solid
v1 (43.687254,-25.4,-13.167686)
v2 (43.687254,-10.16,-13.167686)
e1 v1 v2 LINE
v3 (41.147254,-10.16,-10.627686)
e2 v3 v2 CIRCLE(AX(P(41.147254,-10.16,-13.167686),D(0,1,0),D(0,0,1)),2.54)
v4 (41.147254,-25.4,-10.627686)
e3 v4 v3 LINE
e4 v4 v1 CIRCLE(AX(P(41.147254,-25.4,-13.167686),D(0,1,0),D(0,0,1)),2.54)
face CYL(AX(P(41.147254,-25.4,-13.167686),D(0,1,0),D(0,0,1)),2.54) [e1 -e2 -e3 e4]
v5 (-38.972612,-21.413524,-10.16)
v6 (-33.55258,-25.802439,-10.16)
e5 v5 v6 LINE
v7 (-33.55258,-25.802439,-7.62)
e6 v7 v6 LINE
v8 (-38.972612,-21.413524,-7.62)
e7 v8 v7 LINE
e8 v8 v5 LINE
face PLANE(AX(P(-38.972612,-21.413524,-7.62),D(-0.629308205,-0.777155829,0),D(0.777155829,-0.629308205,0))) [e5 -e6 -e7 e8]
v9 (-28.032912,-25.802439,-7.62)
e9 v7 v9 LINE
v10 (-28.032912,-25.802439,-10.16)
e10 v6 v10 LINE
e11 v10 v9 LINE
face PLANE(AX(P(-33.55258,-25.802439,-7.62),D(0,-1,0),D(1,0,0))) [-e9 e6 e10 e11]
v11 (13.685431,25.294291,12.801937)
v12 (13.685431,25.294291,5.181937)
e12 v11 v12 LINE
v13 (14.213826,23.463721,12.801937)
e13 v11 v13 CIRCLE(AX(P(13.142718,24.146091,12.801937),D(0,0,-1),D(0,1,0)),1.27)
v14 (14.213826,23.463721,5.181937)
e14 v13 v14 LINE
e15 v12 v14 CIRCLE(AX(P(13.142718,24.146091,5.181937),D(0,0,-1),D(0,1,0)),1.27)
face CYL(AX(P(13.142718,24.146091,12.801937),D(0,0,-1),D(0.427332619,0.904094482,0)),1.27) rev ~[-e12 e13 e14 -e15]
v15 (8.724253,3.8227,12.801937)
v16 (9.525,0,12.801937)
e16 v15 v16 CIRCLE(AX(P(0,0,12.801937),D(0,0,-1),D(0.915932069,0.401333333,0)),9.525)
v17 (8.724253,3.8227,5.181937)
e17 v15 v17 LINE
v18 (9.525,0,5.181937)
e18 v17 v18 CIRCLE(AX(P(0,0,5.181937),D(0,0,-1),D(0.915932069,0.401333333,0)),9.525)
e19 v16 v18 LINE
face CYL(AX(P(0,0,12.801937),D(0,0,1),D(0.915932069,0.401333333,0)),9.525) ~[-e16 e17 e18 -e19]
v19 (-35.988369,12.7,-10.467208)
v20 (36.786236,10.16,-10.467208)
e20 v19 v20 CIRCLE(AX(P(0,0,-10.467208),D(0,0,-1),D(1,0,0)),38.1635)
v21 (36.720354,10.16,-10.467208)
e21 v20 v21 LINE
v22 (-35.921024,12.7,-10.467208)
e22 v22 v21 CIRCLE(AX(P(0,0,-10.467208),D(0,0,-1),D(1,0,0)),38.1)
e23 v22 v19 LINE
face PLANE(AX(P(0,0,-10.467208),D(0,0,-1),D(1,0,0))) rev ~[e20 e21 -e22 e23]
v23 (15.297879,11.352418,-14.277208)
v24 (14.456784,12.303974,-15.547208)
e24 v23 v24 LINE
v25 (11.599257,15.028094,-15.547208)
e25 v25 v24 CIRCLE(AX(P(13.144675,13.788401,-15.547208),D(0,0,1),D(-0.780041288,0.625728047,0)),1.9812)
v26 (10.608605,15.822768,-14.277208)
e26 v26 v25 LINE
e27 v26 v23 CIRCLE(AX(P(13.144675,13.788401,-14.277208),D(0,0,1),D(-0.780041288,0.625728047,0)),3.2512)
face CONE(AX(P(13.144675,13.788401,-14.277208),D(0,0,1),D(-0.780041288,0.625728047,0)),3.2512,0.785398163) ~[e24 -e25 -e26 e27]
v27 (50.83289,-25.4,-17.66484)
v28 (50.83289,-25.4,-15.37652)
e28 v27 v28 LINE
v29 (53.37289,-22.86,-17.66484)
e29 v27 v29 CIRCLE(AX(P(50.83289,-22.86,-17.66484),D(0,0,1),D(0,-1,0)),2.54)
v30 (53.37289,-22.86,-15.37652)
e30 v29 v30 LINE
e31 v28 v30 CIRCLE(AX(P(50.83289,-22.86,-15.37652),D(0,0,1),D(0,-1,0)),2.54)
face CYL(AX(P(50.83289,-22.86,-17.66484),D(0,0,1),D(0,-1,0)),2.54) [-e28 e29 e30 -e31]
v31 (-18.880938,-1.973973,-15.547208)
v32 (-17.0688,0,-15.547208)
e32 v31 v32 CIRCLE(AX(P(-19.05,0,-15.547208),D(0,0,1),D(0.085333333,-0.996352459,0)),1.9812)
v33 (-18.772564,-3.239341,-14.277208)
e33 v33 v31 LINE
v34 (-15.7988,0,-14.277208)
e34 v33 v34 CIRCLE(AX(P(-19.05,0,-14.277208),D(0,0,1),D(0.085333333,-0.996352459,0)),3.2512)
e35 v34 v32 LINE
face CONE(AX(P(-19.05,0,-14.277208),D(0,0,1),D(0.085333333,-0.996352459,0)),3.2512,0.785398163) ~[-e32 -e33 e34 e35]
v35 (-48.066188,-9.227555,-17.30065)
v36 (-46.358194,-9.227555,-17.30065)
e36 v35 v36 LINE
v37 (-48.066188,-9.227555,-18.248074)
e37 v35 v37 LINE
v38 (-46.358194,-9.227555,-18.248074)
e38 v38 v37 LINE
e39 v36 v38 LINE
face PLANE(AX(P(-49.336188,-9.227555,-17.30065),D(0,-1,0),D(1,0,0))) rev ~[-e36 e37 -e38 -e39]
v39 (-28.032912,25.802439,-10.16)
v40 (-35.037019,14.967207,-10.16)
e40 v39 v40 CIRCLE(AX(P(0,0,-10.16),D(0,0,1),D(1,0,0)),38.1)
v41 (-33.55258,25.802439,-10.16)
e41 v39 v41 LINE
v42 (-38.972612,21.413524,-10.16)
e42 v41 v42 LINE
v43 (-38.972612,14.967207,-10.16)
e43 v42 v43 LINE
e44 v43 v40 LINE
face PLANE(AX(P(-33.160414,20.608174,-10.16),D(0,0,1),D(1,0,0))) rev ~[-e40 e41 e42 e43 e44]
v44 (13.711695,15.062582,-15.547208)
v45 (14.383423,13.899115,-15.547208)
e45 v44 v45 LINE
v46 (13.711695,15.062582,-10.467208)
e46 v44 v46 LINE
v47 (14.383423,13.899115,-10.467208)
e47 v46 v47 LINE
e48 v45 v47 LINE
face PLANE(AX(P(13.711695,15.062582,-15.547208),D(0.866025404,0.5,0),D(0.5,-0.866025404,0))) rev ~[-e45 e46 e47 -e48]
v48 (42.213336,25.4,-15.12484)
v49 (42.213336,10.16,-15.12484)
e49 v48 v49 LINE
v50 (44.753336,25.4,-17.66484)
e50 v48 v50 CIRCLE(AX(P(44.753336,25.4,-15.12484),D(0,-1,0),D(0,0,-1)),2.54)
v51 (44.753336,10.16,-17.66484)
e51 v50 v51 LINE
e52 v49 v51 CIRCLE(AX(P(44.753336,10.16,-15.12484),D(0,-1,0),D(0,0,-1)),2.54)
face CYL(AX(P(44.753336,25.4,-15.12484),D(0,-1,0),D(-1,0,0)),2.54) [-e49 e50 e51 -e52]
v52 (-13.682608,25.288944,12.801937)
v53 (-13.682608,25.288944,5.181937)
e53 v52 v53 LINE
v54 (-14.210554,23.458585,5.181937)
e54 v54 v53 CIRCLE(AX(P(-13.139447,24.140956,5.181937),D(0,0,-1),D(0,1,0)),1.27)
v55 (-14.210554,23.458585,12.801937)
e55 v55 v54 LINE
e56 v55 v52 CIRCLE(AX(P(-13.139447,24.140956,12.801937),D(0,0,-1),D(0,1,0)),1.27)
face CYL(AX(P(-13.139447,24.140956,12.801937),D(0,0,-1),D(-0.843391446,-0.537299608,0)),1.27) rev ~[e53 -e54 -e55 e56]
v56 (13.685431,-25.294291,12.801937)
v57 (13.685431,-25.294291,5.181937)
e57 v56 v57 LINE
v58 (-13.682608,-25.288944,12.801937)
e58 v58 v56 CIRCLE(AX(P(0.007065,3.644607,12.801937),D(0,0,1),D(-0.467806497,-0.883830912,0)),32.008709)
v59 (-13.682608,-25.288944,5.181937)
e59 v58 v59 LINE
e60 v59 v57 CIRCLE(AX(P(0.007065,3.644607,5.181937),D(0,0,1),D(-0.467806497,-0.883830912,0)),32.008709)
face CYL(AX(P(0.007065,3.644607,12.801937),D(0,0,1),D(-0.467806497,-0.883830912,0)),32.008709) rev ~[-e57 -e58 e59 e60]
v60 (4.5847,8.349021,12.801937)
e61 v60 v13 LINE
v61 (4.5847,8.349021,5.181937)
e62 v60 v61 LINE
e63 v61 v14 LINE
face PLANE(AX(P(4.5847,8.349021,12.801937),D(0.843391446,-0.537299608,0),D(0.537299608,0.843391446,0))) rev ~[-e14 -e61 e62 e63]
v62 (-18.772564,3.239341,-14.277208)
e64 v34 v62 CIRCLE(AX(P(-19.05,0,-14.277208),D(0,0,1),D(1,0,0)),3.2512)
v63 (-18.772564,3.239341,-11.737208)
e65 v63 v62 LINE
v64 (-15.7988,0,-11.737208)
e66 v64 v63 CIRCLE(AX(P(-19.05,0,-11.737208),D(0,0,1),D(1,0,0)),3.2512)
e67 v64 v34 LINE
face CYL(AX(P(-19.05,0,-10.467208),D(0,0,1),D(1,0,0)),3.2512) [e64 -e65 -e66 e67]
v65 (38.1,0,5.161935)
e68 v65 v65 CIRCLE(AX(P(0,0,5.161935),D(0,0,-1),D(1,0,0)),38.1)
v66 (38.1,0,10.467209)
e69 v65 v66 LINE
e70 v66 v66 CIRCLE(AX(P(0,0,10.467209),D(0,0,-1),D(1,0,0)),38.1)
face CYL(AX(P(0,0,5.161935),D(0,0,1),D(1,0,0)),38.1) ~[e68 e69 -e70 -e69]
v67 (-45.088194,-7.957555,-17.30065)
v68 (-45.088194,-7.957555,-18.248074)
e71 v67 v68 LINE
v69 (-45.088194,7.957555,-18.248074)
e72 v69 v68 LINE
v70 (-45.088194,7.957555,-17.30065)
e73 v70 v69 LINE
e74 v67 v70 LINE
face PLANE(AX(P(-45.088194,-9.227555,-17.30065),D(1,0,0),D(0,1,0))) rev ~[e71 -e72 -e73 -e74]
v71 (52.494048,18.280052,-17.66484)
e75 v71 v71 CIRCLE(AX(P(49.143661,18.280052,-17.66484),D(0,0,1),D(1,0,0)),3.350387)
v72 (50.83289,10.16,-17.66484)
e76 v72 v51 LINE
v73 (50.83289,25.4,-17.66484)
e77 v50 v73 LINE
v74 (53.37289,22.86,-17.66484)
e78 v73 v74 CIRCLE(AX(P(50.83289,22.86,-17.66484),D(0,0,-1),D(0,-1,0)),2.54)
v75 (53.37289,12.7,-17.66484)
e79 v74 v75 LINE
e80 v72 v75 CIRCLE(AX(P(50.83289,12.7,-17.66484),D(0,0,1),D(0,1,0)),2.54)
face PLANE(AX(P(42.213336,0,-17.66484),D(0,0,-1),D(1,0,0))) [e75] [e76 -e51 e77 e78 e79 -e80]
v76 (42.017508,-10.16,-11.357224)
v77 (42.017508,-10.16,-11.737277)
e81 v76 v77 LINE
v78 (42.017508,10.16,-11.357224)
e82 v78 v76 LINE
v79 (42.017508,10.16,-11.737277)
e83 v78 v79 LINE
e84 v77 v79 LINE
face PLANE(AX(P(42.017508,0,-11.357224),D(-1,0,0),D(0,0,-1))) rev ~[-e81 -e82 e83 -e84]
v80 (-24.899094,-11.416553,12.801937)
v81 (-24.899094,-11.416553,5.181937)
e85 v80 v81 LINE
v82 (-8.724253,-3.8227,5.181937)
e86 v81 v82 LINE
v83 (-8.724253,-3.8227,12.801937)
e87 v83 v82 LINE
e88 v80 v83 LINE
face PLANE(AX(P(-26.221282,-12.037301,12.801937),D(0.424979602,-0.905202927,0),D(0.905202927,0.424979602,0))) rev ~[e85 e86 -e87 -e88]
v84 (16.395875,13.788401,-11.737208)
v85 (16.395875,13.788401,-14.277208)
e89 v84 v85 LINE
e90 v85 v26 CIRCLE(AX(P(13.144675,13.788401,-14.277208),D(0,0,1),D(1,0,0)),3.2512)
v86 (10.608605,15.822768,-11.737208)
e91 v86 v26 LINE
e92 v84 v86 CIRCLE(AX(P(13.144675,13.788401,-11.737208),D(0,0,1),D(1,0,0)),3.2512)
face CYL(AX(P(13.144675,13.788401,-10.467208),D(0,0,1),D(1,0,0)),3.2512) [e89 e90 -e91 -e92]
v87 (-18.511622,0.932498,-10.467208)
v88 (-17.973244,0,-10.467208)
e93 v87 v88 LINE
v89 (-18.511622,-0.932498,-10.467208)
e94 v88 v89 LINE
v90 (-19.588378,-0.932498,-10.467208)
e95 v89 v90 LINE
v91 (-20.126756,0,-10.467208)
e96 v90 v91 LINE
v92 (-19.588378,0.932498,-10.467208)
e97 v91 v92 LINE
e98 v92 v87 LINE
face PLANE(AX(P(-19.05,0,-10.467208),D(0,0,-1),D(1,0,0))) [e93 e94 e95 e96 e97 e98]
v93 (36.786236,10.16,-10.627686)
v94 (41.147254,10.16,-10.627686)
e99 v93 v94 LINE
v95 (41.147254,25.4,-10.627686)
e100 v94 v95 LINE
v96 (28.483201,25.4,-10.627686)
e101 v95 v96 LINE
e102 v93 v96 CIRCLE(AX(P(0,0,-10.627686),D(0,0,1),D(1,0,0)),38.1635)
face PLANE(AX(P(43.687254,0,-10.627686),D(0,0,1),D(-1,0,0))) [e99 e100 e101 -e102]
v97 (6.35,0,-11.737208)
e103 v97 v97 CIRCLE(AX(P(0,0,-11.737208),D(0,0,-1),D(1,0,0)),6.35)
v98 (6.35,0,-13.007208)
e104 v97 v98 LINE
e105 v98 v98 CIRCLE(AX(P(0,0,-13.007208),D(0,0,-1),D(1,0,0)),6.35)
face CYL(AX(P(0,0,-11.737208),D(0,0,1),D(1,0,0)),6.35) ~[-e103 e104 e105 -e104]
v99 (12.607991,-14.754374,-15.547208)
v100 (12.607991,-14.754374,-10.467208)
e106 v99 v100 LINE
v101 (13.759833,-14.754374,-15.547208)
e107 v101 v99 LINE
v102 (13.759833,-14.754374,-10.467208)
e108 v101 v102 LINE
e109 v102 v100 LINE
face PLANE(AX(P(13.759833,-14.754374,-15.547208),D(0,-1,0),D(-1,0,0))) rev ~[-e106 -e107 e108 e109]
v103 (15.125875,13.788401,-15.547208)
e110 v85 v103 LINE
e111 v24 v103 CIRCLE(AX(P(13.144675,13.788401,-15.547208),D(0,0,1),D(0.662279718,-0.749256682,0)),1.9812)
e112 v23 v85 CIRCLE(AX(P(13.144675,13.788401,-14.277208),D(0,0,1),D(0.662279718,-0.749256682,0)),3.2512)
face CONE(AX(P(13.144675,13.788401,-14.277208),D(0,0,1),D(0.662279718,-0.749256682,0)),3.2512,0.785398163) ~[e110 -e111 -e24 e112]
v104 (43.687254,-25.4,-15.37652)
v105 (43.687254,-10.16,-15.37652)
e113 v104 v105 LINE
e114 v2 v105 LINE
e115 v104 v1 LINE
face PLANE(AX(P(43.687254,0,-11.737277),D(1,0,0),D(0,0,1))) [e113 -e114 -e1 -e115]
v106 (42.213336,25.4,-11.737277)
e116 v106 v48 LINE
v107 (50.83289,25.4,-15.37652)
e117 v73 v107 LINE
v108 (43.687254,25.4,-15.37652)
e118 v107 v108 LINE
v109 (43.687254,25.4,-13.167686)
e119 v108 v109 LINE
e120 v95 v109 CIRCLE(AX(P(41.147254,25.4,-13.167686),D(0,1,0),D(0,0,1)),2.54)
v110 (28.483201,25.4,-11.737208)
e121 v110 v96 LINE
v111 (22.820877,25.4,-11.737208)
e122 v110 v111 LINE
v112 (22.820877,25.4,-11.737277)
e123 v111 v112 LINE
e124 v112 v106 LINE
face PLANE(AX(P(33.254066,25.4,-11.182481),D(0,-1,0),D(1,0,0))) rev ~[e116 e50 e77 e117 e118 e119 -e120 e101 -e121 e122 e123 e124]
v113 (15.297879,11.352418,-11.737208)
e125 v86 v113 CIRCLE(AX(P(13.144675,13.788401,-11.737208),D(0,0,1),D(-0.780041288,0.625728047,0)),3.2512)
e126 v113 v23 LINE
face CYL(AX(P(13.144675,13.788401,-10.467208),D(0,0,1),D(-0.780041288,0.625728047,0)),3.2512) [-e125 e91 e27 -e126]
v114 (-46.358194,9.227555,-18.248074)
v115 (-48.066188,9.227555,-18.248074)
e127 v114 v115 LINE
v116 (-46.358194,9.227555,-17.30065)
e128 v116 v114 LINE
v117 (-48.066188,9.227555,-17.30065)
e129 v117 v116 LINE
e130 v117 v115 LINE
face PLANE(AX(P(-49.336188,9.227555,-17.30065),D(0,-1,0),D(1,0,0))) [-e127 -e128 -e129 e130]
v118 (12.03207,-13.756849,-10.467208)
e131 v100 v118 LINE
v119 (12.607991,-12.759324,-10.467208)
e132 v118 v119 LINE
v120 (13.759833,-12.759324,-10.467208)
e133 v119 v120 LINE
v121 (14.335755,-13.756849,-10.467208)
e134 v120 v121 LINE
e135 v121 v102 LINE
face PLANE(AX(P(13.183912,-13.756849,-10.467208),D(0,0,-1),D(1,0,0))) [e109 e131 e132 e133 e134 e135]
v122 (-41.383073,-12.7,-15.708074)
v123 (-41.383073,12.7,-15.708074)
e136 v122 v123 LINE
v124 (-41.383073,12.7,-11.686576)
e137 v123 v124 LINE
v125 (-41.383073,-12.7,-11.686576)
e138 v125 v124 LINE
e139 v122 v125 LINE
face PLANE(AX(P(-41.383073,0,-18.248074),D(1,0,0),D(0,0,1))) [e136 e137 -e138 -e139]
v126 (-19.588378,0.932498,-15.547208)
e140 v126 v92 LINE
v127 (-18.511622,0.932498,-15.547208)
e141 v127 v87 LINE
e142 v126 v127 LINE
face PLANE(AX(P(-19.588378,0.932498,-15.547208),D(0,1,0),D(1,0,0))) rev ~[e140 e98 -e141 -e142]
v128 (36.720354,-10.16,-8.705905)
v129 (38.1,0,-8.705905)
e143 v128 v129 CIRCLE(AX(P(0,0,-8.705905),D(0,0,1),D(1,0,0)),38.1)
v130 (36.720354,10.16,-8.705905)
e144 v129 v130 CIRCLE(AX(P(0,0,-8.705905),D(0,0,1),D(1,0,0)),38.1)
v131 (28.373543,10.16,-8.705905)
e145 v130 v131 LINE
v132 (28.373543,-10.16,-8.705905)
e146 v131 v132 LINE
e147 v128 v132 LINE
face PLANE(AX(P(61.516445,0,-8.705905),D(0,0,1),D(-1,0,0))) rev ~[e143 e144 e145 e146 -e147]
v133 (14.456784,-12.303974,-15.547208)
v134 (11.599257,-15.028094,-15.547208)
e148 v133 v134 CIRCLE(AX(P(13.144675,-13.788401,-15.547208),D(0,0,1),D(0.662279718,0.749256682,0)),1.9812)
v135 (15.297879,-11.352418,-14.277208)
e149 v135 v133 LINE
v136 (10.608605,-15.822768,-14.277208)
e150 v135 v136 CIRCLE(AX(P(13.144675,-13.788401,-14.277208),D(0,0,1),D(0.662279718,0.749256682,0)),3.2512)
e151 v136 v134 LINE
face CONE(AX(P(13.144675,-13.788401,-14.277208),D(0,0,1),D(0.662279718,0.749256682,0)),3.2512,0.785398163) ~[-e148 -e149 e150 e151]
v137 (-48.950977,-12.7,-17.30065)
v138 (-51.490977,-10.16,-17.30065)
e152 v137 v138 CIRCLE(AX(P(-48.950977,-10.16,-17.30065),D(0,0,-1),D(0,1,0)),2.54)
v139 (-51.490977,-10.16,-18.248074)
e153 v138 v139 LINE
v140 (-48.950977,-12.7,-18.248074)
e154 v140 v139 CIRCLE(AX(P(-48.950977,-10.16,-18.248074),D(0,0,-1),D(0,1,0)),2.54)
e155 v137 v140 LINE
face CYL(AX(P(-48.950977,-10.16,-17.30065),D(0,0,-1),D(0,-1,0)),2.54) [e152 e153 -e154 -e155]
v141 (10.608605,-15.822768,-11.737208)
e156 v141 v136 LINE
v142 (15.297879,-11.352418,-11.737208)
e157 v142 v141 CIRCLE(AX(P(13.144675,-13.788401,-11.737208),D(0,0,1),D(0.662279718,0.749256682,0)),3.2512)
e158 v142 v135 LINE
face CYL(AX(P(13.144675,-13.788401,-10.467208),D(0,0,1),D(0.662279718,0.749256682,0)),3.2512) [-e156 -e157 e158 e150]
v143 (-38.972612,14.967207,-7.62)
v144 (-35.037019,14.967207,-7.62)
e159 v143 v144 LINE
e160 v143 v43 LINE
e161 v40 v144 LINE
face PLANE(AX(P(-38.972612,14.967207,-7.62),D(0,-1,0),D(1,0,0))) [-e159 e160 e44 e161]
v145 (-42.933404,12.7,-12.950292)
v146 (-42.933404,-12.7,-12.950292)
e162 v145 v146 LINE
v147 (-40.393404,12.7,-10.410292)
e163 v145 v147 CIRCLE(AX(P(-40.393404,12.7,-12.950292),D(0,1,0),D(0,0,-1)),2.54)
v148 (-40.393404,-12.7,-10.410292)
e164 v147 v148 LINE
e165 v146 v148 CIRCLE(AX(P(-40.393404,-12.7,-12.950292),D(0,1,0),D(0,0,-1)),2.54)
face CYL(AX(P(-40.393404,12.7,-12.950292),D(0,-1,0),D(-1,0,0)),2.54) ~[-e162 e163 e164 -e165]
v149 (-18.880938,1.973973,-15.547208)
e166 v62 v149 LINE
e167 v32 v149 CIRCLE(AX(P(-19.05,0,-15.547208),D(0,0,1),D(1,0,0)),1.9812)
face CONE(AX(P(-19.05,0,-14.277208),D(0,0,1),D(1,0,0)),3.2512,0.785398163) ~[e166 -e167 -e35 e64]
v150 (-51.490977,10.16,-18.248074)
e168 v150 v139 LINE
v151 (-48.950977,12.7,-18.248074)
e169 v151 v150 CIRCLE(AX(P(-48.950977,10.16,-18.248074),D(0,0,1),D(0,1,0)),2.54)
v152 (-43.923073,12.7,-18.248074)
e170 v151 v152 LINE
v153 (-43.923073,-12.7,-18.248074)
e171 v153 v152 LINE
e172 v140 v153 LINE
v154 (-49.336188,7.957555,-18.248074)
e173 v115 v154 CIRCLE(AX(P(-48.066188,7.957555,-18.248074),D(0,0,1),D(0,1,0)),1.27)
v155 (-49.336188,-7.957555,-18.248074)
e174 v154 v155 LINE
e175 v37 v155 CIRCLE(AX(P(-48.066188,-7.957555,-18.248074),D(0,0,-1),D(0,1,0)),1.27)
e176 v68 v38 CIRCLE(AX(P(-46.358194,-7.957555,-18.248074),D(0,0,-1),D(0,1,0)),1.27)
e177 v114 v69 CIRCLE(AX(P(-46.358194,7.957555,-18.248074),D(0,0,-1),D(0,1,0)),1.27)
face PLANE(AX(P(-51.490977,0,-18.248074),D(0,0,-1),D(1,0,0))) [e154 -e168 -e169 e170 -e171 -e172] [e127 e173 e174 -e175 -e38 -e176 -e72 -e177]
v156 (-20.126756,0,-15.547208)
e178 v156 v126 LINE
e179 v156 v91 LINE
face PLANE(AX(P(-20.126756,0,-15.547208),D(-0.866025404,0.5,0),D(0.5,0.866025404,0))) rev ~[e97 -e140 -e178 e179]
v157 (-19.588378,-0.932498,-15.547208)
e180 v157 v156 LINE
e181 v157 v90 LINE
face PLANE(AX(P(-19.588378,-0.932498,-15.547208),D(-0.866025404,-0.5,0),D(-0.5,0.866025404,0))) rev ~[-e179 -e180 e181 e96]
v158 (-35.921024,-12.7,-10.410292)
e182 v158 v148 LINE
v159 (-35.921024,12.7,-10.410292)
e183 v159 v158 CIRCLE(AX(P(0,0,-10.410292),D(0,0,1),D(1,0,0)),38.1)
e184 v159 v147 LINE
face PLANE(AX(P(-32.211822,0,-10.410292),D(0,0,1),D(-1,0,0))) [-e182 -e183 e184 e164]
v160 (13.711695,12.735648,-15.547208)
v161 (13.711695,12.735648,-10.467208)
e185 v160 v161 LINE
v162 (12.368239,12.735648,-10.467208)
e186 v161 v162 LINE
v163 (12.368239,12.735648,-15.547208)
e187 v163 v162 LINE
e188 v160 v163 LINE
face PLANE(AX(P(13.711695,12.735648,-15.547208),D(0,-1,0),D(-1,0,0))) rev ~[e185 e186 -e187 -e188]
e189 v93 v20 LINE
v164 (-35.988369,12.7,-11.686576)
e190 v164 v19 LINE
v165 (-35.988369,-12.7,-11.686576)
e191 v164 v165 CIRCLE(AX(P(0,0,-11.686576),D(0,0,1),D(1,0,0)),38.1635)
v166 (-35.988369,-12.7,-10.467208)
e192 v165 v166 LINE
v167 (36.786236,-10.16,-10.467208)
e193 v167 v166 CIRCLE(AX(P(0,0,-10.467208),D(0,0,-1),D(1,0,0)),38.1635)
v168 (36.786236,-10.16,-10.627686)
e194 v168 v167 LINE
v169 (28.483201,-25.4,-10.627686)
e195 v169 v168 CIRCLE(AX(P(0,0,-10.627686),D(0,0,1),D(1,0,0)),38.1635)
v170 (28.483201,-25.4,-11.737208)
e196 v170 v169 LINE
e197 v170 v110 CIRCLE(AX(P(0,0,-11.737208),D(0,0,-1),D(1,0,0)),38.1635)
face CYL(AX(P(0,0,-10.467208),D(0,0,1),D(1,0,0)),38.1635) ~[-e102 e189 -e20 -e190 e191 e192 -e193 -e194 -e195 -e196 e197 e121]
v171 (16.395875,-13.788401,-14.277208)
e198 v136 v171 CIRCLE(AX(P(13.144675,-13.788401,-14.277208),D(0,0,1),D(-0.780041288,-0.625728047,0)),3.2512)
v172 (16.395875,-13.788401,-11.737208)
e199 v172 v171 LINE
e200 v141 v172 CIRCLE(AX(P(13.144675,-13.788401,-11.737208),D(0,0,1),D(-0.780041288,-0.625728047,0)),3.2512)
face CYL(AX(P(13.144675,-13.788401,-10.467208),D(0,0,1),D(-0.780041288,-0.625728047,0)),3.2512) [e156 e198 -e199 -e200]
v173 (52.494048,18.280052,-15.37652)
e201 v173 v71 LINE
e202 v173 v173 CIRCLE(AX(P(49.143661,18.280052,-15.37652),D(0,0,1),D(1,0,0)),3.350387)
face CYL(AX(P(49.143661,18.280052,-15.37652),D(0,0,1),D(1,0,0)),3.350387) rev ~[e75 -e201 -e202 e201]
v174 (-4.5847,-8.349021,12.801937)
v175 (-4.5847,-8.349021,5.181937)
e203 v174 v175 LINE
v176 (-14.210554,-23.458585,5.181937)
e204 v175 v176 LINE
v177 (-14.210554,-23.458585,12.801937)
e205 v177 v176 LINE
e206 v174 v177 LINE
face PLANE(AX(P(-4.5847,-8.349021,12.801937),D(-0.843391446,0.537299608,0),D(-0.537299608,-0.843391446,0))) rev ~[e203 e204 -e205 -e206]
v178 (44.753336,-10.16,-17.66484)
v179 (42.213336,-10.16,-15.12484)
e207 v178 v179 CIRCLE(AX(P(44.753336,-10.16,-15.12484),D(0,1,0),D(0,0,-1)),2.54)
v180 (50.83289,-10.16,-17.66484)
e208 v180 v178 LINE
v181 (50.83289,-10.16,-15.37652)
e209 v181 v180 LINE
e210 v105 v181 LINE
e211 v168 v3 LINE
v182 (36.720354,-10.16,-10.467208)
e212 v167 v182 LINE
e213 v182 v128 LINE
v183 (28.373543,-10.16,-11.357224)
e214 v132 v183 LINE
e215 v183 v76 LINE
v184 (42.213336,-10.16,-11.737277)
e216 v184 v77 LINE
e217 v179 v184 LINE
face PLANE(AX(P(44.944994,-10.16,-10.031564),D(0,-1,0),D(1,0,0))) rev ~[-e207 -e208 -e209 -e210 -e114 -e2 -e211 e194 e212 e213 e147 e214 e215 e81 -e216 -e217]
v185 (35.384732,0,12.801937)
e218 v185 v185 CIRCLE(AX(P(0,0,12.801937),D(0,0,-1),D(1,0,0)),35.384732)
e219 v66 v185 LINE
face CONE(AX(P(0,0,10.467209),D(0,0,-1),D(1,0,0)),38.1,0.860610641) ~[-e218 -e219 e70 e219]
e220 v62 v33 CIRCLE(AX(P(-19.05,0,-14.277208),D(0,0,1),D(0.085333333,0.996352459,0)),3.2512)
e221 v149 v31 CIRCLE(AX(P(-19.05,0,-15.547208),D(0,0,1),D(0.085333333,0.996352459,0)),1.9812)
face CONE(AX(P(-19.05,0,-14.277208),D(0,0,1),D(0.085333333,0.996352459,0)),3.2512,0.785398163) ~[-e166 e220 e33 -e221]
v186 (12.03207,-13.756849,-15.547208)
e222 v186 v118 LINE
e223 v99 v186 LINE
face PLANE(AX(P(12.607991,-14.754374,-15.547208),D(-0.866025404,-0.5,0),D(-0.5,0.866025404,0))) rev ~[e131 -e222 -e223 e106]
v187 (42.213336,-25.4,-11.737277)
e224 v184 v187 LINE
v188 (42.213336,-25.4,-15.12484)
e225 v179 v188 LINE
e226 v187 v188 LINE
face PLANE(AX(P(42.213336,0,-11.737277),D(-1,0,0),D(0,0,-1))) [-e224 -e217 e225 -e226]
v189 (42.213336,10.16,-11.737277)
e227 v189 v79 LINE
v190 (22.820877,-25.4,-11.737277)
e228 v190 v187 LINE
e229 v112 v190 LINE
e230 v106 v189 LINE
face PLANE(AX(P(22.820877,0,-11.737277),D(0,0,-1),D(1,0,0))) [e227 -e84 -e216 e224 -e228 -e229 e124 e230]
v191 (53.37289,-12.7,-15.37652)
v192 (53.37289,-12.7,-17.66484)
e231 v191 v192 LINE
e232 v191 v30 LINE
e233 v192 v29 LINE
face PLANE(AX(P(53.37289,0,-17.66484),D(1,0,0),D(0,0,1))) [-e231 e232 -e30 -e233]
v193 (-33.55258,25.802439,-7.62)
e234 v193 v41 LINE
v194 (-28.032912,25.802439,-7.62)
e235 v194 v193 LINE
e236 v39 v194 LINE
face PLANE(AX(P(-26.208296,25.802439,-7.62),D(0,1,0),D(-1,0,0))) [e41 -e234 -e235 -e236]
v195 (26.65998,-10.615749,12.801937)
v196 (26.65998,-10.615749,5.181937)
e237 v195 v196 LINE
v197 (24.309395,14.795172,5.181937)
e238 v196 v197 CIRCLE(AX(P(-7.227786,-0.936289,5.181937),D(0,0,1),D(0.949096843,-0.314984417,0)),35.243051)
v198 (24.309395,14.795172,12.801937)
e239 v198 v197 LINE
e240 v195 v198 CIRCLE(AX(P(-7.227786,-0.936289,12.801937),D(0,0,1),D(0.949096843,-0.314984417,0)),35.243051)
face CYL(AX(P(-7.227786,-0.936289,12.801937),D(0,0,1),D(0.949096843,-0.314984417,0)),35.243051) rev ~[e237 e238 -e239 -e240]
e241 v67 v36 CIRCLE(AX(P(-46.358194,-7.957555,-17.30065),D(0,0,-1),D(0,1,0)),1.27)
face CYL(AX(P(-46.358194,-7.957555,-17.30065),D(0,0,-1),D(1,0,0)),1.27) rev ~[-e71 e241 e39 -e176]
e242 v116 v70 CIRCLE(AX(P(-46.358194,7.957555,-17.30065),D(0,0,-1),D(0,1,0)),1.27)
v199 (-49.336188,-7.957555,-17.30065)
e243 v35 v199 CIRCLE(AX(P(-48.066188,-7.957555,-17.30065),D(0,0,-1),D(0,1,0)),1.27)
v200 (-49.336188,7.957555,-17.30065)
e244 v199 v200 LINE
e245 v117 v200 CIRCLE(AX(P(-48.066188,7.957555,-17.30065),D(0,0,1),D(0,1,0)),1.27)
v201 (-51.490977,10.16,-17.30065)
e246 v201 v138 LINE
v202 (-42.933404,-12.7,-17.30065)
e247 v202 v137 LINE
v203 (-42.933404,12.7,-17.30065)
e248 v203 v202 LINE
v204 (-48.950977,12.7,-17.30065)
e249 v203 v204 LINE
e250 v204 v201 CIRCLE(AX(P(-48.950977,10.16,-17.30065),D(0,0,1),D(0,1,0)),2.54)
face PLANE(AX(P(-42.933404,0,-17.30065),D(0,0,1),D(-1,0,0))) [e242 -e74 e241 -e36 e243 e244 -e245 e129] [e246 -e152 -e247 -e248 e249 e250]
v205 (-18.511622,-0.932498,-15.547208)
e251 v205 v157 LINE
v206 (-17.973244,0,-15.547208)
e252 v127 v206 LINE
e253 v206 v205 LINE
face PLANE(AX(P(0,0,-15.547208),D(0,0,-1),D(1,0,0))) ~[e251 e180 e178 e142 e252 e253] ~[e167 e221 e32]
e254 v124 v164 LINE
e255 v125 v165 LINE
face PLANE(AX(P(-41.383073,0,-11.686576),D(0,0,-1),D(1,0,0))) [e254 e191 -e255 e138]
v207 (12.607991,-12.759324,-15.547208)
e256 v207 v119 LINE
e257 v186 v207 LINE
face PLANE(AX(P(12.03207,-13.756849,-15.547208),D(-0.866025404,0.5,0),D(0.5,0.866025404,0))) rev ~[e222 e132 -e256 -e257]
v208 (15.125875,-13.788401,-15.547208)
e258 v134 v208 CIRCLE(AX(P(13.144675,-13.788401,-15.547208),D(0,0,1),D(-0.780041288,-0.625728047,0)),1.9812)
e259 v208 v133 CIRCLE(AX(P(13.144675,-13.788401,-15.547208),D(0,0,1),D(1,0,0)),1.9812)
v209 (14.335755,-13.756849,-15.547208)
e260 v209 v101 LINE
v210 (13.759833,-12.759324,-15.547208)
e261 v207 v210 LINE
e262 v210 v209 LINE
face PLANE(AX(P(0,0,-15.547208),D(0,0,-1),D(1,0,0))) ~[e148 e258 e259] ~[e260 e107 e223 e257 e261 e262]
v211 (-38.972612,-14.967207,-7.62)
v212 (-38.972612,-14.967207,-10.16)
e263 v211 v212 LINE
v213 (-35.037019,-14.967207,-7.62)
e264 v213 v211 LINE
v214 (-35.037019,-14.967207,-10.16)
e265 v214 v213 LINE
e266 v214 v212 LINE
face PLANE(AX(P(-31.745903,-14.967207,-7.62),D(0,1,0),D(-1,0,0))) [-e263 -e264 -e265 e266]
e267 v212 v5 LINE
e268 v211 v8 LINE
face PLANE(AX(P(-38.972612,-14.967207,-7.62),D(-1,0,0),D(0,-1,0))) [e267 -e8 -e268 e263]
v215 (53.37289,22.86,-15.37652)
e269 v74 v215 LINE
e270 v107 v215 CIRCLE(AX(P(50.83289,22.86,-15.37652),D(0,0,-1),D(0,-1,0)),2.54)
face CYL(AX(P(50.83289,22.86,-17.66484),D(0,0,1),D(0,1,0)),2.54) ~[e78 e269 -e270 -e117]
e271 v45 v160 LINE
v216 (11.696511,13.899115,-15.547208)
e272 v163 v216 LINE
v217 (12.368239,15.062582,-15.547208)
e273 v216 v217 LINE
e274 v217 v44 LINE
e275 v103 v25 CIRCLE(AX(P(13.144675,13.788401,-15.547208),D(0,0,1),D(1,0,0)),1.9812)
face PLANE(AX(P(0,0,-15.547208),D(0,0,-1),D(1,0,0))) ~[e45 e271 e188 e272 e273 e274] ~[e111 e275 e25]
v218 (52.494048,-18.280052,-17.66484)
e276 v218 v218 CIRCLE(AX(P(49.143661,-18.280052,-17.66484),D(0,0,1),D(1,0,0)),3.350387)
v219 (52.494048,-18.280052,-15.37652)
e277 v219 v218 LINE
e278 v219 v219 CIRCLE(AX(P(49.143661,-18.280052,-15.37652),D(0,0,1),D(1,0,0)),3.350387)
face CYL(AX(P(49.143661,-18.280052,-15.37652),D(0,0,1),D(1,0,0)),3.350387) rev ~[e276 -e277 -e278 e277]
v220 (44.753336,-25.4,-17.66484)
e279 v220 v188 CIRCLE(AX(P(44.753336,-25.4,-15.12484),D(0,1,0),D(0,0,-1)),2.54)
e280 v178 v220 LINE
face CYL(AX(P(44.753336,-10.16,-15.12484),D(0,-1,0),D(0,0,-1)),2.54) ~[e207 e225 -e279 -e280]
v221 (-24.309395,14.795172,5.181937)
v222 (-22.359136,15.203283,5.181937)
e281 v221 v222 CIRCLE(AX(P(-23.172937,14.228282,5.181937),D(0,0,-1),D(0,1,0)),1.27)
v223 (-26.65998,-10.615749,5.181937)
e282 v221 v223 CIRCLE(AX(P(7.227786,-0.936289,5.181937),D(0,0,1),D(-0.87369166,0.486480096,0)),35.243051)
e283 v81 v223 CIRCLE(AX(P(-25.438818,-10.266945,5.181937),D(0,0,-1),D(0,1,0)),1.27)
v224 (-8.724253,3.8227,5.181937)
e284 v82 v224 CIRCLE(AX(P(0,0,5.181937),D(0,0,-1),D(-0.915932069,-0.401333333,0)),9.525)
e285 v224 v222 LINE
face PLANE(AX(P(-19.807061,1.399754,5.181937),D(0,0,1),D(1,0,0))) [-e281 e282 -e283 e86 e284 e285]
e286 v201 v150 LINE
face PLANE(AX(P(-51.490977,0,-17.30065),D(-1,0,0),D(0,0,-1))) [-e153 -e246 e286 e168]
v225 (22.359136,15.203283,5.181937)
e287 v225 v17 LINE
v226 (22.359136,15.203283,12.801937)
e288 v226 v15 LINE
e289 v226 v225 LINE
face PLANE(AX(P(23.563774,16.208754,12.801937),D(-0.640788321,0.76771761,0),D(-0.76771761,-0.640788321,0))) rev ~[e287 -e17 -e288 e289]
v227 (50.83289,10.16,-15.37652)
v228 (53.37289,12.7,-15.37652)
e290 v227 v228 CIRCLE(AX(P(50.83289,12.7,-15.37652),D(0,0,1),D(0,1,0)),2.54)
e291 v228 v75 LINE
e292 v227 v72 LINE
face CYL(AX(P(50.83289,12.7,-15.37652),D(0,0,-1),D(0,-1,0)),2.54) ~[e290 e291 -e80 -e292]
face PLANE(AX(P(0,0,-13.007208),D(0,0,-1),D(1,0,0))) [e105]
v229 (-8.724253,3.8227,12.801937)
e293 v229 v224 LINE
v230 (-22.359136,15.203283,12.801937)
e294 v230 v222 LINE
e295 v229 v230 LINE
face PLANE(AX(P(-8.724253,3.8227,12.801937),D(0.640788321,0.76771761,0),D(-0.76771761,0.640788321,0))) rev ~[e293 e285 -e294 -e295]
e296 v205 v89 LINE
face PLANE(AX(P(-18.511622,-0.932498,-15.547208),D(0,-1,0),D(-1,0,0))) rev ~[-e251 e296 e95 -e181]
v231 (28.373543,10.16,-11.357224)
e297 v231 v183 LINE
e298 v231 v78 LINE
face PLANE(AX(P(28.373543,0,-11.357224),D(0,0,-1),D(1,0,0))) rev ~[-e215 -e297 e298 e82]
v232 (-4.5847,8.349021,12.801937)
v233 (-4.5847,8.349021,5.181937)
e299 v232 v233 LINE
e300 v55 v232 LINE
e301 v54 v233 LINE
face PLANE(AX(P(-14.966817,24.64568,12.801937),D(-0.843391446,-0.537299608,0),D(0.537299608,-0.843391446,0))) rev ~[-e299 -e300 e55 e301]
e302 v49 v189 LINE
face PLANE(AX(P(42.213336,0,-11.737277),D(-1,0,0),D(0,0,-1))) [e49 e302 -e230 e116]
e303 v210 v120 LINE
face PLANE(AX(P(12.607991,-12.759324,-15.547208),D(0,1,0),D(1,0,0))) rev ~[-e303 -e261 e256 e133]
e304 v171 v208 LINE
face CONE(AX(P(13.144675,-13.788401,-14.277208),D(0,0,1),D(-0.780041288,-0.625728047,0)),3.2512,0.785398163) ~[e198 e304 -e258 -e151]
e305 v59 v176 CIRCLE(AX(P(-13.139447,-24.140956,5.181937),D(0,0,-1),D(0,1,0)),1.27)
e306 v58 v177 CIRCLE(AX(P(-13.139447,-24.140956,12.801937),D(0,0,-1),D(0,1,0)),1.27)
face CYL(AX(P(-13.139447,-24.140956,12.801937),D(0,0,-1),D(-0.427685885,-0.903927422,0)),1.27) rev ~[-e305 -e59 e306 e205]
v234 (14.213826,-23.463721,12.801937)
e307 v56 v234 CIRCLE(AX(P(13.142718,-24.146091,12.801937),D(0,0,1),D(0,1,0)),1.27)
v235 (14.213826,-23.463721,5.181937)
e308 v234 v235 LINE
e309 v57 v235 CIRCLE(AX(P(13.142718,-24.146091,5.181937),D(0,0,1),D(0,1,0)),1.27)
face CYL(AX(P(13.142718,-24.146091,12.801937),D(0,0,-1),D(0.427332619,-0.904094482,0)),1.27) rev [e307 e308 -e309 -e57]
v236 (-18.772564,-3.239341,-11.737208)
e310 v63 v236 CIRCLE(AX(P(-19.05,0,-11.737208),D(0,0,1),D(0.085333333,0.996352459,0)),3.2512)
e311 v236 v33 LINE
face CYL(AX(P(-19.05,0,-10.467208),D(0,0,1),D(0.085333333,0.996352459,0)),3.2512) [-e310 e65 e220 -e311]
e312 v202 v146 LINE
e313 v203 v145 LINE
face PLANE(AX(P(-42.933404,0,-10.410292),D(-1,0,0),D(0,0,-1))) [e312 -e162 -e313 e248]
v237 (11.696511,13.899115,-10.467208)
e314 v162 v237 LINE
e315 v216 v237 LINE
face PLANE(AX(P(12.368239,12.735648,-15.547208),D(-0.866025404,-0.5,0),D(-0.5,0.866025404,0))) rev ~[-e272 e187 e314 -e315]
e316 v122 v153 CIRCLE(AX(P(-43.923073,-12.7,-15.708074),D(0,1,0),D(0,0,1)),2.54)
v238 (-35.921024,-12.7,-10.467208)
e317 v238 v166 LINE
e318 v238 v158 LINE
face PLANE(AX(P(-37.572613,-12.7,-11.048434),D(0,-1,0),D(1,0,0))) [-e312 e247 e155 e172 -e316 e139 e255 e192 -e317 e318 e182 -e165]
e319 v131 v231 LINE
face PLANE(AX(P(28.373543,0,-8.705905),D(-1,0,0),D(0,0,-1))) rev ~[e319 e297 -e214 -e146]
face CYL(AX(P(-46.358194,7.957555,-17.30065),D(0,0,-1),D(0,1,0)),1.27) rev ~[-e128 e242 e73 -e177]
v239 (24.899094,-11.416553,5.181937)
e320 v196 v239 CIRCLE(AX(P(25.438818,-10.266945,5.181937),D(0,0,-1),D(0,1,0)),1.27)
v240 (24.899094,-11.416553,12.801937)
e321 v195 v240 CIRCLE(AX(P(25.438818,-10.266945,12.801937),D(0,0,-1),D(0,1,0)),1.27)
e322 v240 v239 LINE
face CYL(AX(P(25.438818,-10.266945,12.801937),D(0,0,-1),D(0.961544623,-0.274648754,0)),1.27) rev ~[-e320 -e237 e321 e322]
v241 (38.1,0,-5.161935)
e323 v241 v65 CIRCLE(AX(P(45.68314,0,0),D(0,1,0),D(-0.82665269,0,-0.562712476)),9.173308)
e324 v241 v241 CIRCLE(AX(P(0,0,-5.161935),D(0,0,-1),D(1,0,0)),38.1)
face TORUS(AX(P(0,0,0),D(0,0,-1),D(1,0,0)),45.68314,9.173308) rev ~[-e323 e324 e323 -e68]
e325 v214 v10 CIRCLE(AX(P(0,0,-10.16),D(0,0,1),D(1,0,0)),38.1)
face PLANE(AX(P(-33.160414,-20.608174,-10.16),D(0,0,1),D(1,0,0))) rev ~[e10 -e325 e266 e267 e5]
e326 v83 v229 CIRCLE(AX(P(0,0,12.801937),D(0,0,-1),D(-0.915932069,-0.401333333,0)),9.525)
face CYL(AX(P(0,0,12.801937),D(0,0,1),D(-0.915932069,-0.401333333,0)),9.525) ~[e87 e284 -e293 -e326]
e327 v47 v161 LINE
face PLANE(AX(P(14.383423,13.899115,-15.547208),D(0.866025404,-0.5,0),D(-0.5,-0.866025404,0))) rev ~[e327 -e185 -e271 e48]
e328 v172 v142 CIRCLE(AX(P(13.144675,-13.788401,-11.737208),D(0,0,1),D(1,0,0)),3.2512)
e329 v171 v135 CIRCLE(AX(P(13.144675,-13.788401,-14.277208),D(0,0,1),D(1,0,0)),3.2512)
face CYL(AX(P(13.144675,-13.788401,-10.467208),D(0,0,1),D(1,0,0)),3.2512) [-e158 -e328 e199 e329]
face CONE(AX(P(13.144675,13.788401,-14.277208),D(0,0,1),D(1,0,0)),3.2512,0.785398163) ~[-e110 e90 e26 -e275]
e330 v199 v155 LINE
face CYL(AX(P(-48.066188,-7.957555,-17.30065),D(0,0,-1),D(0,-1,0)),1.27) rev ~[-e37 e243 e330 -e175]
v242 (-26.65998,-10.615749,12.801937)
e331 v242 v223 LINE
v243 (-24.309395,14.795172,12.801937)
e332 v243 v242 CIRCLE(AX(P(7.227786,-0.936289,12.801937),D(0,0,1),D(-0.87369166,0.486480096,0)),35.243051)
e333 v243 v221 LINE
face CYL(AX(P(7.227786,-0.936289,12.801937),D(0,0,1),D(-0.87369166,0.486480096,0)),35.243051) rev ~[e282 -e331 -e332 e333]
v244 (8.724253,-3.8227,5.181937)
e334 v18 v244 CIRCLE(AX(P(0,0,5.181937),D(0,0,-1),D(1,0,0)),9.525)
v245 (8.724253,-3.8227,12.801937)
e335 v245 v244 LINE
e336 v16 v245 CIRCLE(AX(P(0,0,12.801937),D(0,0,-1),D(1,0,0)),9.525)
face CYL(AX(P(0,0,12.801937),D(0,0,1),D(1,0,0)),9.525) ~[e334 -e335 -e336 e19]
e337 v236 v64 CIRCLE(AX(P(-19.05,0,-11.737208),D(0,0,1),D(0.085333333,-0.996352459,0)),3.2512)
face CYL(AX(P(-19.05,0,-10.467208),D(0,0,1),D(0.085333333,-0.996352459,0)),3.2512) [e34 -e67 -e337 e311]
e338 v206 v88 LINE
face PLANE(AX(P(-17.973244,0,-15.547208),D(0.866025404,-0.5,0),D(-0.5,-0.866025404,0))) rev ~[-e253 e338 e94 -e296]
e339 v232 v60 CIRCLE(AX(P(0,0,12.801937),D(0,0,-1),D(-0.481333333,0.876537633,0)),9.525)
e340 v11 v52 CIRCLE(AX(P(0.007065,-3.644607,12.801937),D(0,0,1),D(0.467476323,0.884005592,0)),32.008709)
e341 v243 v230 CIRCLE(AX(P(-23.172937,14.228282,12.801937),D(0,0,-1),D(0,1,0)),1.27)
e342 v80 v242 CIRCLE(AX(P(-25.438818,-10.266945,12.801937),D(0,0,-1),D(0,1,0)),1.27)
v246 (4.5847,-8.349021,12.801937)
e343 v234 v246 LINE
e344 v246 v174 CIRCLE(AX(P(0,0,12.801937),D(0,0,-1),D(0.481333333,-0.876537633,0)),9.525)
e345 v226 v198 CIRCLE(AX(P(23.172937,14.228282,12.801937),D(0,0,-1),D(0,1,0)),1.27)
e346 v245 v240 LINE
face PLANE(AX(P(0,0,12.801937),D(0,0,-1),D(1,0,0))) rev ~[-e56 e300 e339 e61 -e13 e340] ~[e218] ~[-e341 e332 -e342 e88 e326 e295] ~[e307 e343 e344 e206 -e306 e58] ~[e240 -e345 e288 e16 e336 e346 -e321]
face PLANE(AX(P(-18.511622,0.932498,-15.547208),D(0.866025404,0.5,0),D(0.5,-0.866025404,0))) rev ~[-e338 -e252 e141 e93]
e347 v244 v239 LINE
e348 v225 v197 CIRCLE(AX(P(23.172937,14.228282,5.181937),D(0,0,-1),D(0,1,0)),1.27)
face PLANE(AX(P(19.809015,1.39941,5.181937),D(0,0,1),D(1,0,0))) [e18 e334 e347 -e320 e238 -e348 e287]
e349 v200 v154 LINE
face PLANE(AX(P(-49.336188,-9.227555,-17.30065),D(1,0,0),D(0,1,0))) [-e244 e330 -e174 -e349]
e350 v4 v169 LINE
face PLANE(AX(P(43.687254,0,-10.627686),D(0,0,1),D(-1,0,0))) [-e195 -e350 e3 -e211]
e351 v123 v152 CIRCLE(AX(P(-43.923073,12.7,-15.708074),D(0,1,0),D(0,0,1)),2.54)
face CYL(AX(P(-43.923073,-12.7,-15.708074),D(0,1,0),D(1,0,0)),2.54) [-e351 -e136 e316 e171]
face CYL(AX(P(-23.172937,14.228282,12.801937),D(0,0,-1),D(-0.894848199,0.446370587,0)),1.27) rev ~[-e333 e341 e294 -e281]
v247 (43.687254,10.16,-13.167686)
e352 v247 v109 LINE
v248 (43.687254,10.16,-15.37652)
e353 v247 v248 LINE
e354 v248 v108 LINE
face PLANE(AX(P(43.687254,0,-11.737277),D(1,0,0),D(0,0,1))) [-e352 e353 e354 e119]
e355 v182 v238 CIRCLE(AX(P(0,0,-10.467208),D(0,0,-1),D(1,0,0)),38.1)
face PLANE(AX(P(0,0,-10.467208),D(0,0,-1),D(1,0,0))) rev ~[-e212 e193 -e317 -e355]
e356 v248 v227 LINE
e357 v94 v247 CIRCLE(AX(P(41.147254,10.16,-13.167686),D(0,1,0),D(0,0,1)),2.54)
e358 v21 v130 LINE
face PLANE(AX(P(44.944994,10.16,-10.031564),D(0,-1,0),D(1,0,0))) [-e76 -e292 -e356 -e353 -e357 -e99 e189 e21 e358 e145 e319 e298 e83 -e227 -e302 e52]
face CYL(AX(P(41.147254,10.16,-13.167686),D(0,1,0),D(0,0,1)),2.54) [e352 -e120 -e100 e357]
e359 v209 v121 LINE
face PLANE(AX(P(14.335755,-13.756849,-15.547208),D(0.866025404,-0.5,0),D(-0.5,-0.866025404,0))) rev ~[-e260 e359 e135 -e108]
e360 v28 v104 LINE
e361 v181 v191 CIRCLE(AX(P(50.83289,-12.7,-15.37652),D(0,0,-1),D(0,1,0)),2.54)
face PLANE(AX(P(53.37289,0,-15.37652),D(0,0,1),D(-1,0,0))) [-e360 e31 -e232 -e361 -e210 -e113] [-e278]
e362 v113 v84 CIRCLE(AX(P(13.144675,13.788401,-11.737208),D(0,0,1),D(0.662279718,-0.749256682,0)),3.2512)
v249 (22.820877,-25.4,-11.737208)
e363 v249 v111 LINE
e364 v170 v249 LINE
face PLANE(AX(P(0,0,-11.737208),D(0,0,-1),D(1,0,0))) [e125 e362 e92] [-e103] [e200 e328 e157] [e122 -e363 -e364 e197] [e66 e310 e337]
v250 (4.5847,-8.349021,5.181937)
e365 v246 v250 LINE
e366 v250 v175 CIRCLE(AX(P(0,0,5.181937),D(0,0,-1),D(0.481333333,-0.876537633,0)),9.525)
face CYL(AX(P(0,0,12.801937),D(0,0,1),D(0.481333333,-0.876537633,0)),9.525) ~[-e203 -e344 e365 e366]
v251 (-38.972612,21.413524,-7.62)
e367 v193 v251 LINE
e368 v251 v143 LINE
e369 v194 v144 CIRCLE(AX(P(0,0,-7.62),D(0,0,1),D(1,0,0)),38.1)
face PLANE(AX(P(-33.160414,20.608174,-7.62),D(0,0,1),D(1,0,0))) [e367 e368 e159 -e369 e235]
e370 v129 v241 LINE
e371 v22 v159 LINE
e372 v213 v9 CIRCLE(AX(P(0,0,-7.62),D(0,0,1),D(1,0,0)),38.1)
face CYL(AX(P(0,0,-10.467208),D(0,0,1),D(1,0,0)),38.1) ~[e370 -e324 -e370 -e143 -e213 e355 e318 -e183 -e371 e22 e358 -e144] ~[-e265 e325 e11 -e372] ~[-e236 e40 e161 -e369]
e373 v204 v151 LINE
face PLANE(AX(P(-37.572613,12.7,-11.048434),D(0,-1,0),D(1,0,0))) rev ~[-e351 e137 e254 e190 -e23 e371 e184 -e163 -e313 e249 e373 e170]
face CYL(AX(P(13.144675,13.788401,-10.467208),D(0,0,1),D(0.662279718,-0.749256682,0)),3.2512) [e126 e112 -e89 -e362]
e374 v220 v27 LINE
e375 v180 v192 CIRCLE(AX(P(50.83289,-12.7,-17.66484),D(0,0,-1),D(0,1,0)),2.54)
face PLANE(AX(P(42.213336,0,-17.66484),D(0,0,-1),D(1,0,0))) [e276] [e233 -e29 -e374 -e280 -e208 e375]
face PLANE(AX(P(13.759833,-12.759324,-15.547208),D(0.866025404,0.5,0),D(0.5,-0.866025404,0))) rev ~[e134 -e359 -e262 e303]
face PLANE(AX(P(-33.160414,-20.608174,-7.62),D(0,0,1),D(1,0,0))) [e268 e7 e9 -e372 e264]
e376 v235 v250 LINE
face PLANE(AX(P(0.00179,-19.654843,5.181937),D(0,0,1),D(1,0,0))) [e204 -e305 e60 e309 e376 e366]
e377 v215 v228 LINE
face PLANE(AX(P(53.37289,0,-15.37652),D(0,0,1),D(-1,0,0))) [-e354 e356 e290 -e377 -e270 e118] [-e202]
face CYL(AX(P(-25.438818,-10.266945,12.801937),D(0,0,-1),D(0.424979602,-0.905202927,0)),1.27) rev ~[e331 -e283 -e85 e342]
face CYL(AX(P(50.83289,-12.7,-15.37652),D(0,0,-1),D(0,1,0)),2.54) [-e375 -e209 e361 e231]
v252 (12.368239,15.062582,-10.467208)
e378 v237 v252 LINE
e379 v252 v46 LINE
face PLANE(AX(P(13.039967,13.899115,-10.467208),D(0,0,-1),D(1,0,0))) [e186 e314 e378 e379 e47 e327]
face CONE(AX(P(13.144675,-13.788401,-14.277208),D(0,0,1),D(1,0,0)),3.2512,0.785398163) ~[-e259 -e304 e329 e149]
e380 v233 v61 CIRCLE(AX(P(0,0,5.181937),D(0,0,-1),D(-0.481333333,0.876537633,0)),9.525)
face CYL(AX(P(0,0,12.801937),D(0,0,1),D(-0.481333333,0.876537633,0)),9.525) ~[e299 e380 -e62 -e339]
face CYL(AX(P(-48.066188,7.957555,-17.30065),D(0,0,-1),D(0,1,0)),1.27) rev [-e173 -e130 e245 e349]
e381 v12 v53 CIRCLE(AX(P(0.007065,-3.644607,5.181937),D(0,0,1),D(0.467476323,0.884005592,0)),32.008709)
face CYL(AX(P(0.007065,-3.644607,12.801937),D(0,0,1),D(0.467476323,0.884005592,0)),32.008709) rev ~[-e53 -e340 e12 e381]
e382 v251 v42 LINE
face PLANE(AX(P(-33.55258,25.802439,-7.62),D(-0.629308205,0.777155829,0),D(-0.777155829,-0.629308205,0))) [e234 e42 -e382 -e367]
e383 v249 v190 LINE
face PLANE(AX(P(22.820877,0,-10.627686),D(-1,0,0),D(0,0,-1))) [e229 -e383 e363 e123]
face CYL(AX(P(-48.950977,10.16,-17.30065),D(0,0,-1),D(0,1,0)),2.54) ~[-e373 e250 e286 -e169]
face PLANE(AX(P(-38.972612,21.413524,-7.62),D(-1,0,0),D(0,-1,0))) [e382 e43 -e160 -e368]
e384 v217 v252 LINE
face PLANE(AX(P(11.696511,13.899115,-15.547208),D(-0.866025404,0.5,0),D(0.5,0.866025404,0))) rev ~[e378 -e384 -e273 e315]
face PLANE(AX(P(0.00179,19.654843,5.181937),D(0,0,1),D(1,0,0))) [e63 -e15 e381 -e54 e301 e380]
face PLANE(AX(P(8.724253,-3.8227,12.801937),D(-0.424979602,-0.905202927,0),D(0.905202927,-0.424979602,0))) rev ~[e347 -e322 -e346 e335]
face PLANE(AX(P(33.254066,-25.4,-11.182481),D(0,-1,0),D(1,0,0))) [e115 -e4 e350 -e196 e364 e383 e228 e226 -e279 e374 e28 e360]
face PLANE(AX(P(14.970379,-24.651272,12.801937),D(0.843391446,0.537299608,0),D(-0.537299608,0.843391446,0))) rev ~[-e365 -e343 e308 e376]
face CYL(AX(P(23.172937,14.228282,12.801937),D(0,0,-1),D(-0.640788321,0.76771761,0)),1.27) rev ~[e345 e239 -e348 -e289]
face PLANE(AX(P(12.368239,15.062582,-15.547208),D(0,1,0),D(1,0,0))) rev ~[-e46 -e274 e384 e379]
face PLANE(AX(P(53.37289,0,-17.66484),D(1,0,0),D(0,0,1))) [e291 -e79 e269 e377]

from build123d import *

# Parameters (mm, degrees)
F3_DEPTH  = 7.62
F4_R      = 1.27
F5_R      = 1.27
F6_R      = 1.27
F7_R      = 1.27
F8_R      = 38.1635
F8_R_2    = 38.1
F8_R_3    = 6.35
F9_DEPTH  = 1.27
F10_R     = 6.35
F11_DEPTH = 1.27
F12_DEPTH = 5.08
F13_SIZE  = 1.27
F15_DEPTH = 5.08
F16_W     = 1.5503317118
F16_H     = 5.6140748784
F17_DEPTH = 12.7
F18_W     = 4.2479932308
F18_H     = 18.4551104903
F19_DEPTH = 25.4
F20_R     = 1.27
F21_W     = 1.4739185572
F21_H     = 3.6392435431
F22_DEPTH = 25.4
F24_W     = 19.498936832
F24_H     = 3.6067618057
F24_W_2   = 8.9468471706
F24_H_2   = 9.674844332
F25_DEPTH = 10.16
F23_R     = 3.3503869352
F26_DEPTH = 25.4
F27_R     = 2.54
F29_START = -7.62
F29_DEPTH = 2.54


with BuildPart() as f1:
    # F0 (on Front) → F1 (revolve)
    with BuildSketch(Plane.XZ):
        with BuildLine():
            Line((38.1, 5.1619349979), (38.1, 10.4672089629))
            Line((38.1, 10.4672089629), (35.3847315665, 12.8019368276))
            Line((35.3847315665, 12.8019368276), (0, 12.8019368276))
            Line((0, 12.8019368276), (0, -5.1619349979))
            Line((0, -5.1619349979), (0, -10.4672075979))
            Line((0, -10.4672075979), (38.1, -10.4672075979))
            Line((38.1, -10.4672075979), (38.1, -5.1619349979))
            ThreePointArc((38.1, -5.1619349979), (36.5098316879, 0), (38.1, 5.1619349979))
        make_face()
    revolve(axis=Axis((0, 0, 4.0121143684), (0, 0, -1)))

    # F2 (on face) → F3 (cut)
    with BuildSketch(Plane.XY.offset(12.8019368276)):
        with BuildLine():
            ThreePointArc((-4.5847, 8.3490209552), (0, 9.525), (4.5847, 8.3490209552))
            Line((4.5847, 8.3490209552), (14.9703790496, 24.6512715679))
            ThreePointArc((14.9703790496, 24.6512715679), (0.001087062, 28.3641023084), (-14.9668170137, 24.6456802915))
            Line((-14.9668170137, 24.6456802915), (-4.5847, 8.3490209552))
        make_face()
        with BuildLine():
            ThreePointArc((-8.72425296, -3.8227), (-9.525, 0), (-8.72425296, 3.8227))
            Line((-8.72425296, 3.8227), (-23.5637737238, 16.2087537647))
            ThreePointArc((-23.5637737238, 16.2087537647), (-27.8603099247, 2.364948039), (-26.2212824078, -12.0373007123))
            Line((-26.2212824078, -12.0373007123), (-8.72425296, -3.8227))
        make_face()
        with BuildLine():
            Line((14.9703790496, -24.6512715679), (4.5847, -8.3490209552))
            ThreePointArc((4.5847, -8.3490209552), (0, -9.525), (-4.5847, -8.3490209552))
            Line((-4.5847, -8.3490209552), (-14.9668170137, -24.6456802915))
            ThreePointArc((-14.9668170137, -24.6456802915), (0.001087062, -28.3641023084), (14.9703790496, -24.6512715679))
        make_face()
        with BuildLine():
            ThreePointArc((8.72425296, 3.8227), (9.3226641698, 1.9528332694), (9.525, 0))
            ThreePointArc((9.525, 0), (9.3226641698, -1.9528332694), (8.72425296, -3.8227))
            Line((8.72425296, -3.8227), (26.2212824078, -12.0373007123))
            ThreePointArc((26.2212824078, -12.0373007123), (27.8603099247, 2.364948039), (23.5637737238, 16.2087537647))
            Line((23.5637737238, 16.2087537647), (8.72425296, 3.8227))
        make_face()
    extrude(amount=-F3_DEPTH, mode=Mode.SUBTRACT)

    # F4
    f4_edges = [f1.edges().sort_by_distance(p)[0] for p in [
        (-23.563774, 16.208754, 8.991937),
        (-26.221282, -12.037301, 8.991937),
    ]]
    fillet(f4_edges, radius=F4_R)

    # F5
    f5_edges = [f1.edges().sort_by_distance(p)[0] for p in [
        (23.563774, 16.208754, 8.991937),
        (26.221282, -12.037301, 8.991937),
    ]]
    fillet(f5_edges, radius=F5_R)

    # F6
    f6_edges = [f1.edges().sort_by_distance(p)[0] for p in [
        (14.970379, 24.651272, 8.991937),
        (-14.966817, 24.64568, 8.991937),
    ]]
    fillet(f6_edges, radius=F6_R)

    # F7
    f7_edges = [f1.edges().sort_by_distance(p)[0] for p in [
        (-14.966817, -24.64568, 8.991937),
        (14.970379, -24.651272, 8.991937),
    ]]
    fillet(f7_edges, radius=F7_R)

    # F8 (on face) → F9 (join)
    with BuildSketch(Plane(origin=(0, 0, -10.4672075979), x_dir=(1, 0, 0), z_dir=(0, 0, -1))):
        Circle(F8_R)
        Circle(F8_R_2, mode=Mode.SUBTRACT)
        Circle(F8_R_2)
        with BuildLine():
            ThreePointArc((15.2978791062, 11.3524180179), (18.0876628807, 5.9782063793), (19.05, 0))
            ThreePointArc((19.05, 0), (18.0876628807, -5.9782063793), (15.2978791062, -11.3524180179))
            ThreePointArc((15.2978791062, -11.3524180179), (16.1086926372, -12.4523988749), (16.3958752879, -13.7884013423))
            ThreePointArc((16.3958752879, -13.7884013423), (14.2228751508, -16.8556128602), (10.6086050519, -15.8227683688))
            ThreePointArc((10.6086050519, -15.8227683688), (-7.4998811913, -17.511547108), (-18.7725642667, -3.2393411142))
            ThreePointArc((-18.7725642667, -3.2393411142), (-22.3012, 0), (-18.7725642667, 3.2393411142))
            ThreePointArc((-18.7725642667, 3.2393411142), (-7.4998811913, 17.511547108), (10.6086050519, 15.8227683688))
            ThreePointArc((10.6086050519, 15.8227683688), (14.2228751508, 16.8556128602), (16.3958752879, 13.7884013423))
            ThreePointArc((16.3958752879, 13.7884013423), (16.1086926372, 12.4523988749), (15.2978791062, 11.3524180179))
        make_face(mode=Mode.SUBTRACT)
        with BuildLine():
            ThreePointArc((15.2978791062, -11.3524180179), (18.0876628807, -5.9782063793), (19.05, 0))
            ThreePointArc((19.05, 0), (18.0876628807, 5.9782063793), (15.2978791062, 11.3524180179))
            ThreePointArc((15.2978791062, 11.3524180179), (10.9013173721, 11.4351808465), (10.6086050519, 15.8227683688))
            ThreePointArc((10.6086050519, 15.8227683688), (-7.4998811913, 17.511547108), (-18.7725642667, 3.2393411142))
            ThreePointArc((-18.7725642667, 3.2393411142), (-16.6549738523, 2.1986703236), (-15.7988, 0))
            ThreePointArc((-15.7988, 0), (-16.6549738523, -2.1986703236), (-18.7725642667, -3.2393411142))
            ThreePointArc((-18.7725642667, -3.2393411142), (-7.4998811913, -17.511547108), (10.6086050519, -15.8227683688))
            ThreePointArc((10.6086050519, -15.8227683688), (10.9013173721, -11.4351808465), (15.2978791062, -11.3524180179))
        make_face()
        Circle(F8_R_3, mode=Mode.SUBTRACT)
        Circle(F8_R_3)
    extrude(amount=F9_DEPTH)

    # F10 (on face) → F11 (join)
    with BuildSketch(Plane(origin=(0, 0, -11.7372075979), x_dir=(1, 0, 0), z_dir=(0, 0, -1))):
        Circle(F10_R)
    extrude(amount=F11_DEPTH)

    # F12 (add): faces of the model
    f12_faces = [f1.faces().sort_by_distance(p)[0] for p in [
        (-19.05, 0, -10.4672075979),
        (13.1446752879, -13.7884013423, -10.4672075979),
        (13.1446752879, 13.7884013423, -10.4672075979),
    ]]
    extrude(f12_faces, amount=F12_DEPTH)

    # F13
    f13_edges = [f1.edges().sort_by_distance(p)[0] for p in [
        (-19.327436, 3.239341, -15.547208),
        (10.991471, -16.224385, -15.547208),
        (15.680746, 11.754034, -15.547208),
    ]]
    chamfer(f13_edges, length=F13_SIZE)

    # F14 (on face) → F15 (cut)
    with BuildSketch(Plane(origin=(0, 0, -15.5472075979), x_dir=(1, 0, 0), z_dir=(0, 0, -1))):
        Polygon((-19.5883781174, -0.932498253), (-18.5116218826, -0.932498253), (-17.9732437653, 0), (-18.5116218826, 0.932498253), (-19.5883781174, 0.932498253), (-20.1267562347, 0), align=None)
        Polygon((12.6079911033, 12.7593241632), (13.7598334213, 12.7593241632), (14.3357545803, 13.7568488717), (13.7598334213, 14.7543735802), (12.6079911033, 14.7543735802), (12.0320699444, 13.7568488717), align=None)
        Polygon((13.7116949347, -12.7356480807), (12.3682391557, -12.7356480807), (11.6965112661, -13.8991149142), (12.3682391557, -15.0625817478), (13.7116949347, -15.0625817478), (14.3834228243, -13.8991149142), align=None)
    extrude(amount=-F15_DEPTH, mode=Mode.SUBTRACT)

    # F16 (on Front) → F17 (join, symmetric)
    with BuildSketch(Plane.XZ):
        Polygon((-32.2118215263, -11.686575599), (-32.2118215263, -10.4102920741), (-42.9334044456, -10.4102920741), (-42.9334044456, -11.686575599), (-41.3830727339, -11.686575599), align=None)
        with Locations((-42.1582385898, -14.4936130382)):
            Rectangle(F16_W, F16_H)
        Polygon((-41.3830727339, -17.3006504774), (-42.9334044456, -17.3006504774), (-51.4909774065, -17.3006504774), (-51.4909774065, -18.2480737567), (-41.3830727339, -18.2480737567), align=None)
    extrude(amount=F17_DEPTH, both=True)

    # F18 (on face) → F19 (cut)
    with BuildSketch(Plane.XY.offset(-17.3006504774)):
        with Locations((-47.2121909261, 0)):
            Rectangle(F18_W, F18_H)
    extrude(amount=-F19_DEPTH, mode=Mode.SUBTRACT)

    # F20
    f20_edges = [f1.edges().sort_by_distance(p)[0] for p in [
        (-49.336188, 9.227555, -17.774362),
        (-45.088194, 9.227555, -17.774362),
        (-49.336188, -9.227555, -17.774362),
        (-45.088194, -9.227555, -17.774362),
    ]]
    fillet(f20_edges, radius=F20_R)

    # F21 (on Front) → F22 (join, symmetric)
    with BuildSketch(Plane.XZ):
        Polygon((43.6872541904, -10.6276860461), (22.8208769113, -10.6276860461), (22.8208769113, -11.7372768), (42.2133356333, -11.7372768), (43.6872541904, -11.7372768), align=None)
        with Locations((42.9502949119, -13.5568985716)):
            Rectangle(F21_W, F21_H)
        Polygon((53.3728897572, -15.3765203431), (43.6872541904, -15.3765203431), (42.2133356333, -15.3765203431), (42.2133356333, -17.6648404449), (53.3728897572, -17.6648404449), align=None)
    extrude(amount=F22_DEPTH, both=True)

    # F24 (on Front) → F25 (cut, symmetric)
    with BuildSketch(Plane.XZ):
        Polygon((61.5164451301, -8.7059047073), (28.3735431731, -8.7059047073), (28.3735431731, -11.3572236151), (42.0175082982, -11.3572236151), (61.5164451301, -11.3572236151), align=None)
        with Locations((51.7669767141, -13.1606045179)):
            Rectangle(F24_W, F24_H)
        with Locations((65.9898687154, -19.8014075868)):
            Rectangle(F24_W_2, F24_H_2)
        with Locations((51.7669767141, -19.8014075868)):
            Rectangle(F24_W, F24_H_2)
    extrude(amount=F25_DEPTH, both=True, mode=Mode.SUBTRACT)

    # F23 (on face) → F26 (cut)
    with BuildSketch(Plane.XY.offset(-15.3765203431)):
        with Locations((49.1436608136, 18.2800516486)):
            Circle(F23_R)
        with Locations((49.1436608136, -18.2800516486)):
            Circle(F23_R)
    extrude(amount=-F26_DEPTH, mode=Mode.SUBTRACT)

    # F27
    f27_edges = [f1.edges().sort_by_distance(p)[0] for p in [
        (43.687254, 17.78, -10.627686),
        (42.213336, 17.78, -17.66484),
        (42.213336, -17.78, -17.66484),
        (43.687254, -17.78, -10.627686),
        (53.37289, -25.4, -16.52068),
        (53.37289, -10.16, -16.52068),
        (53.37289, 10.16, -16.52068),
        (53.37289, 25.4, -16.52068),
        (-42.933404, 0, -10.410292),
        (-41.383073, 0, -18.248074),
        (-51.490977, -12.7, -17.774362),
        (-51.490977, 12.7, -17.774362),
    ]]
    fillet(f27_edges, radius=F27_R)

    # F28 (on Top) → F29 (join)
    with BuildSketch(Plane.XY.offset(F29_START)):
        Polygon((-38.9726124704, 14.9672068655), (-31.745903194, 14.9672068655), (-26.2082958382, 25.8024390787), (-33.5525795817, 25.8024390787), (-38.9726124704, 21.4135237038), align=None)
        Polygon((-26.2082958382, -25.8024390787), (-31.745903194, -14.9672068655), (-38.9726124704, -14.9672068655), (-38.9726124704, -21.4135237038), (-33.5525795817, -25.8024390787), align=None)
    extrude(amount=-F29_DEPTH)


solid = f1.part
